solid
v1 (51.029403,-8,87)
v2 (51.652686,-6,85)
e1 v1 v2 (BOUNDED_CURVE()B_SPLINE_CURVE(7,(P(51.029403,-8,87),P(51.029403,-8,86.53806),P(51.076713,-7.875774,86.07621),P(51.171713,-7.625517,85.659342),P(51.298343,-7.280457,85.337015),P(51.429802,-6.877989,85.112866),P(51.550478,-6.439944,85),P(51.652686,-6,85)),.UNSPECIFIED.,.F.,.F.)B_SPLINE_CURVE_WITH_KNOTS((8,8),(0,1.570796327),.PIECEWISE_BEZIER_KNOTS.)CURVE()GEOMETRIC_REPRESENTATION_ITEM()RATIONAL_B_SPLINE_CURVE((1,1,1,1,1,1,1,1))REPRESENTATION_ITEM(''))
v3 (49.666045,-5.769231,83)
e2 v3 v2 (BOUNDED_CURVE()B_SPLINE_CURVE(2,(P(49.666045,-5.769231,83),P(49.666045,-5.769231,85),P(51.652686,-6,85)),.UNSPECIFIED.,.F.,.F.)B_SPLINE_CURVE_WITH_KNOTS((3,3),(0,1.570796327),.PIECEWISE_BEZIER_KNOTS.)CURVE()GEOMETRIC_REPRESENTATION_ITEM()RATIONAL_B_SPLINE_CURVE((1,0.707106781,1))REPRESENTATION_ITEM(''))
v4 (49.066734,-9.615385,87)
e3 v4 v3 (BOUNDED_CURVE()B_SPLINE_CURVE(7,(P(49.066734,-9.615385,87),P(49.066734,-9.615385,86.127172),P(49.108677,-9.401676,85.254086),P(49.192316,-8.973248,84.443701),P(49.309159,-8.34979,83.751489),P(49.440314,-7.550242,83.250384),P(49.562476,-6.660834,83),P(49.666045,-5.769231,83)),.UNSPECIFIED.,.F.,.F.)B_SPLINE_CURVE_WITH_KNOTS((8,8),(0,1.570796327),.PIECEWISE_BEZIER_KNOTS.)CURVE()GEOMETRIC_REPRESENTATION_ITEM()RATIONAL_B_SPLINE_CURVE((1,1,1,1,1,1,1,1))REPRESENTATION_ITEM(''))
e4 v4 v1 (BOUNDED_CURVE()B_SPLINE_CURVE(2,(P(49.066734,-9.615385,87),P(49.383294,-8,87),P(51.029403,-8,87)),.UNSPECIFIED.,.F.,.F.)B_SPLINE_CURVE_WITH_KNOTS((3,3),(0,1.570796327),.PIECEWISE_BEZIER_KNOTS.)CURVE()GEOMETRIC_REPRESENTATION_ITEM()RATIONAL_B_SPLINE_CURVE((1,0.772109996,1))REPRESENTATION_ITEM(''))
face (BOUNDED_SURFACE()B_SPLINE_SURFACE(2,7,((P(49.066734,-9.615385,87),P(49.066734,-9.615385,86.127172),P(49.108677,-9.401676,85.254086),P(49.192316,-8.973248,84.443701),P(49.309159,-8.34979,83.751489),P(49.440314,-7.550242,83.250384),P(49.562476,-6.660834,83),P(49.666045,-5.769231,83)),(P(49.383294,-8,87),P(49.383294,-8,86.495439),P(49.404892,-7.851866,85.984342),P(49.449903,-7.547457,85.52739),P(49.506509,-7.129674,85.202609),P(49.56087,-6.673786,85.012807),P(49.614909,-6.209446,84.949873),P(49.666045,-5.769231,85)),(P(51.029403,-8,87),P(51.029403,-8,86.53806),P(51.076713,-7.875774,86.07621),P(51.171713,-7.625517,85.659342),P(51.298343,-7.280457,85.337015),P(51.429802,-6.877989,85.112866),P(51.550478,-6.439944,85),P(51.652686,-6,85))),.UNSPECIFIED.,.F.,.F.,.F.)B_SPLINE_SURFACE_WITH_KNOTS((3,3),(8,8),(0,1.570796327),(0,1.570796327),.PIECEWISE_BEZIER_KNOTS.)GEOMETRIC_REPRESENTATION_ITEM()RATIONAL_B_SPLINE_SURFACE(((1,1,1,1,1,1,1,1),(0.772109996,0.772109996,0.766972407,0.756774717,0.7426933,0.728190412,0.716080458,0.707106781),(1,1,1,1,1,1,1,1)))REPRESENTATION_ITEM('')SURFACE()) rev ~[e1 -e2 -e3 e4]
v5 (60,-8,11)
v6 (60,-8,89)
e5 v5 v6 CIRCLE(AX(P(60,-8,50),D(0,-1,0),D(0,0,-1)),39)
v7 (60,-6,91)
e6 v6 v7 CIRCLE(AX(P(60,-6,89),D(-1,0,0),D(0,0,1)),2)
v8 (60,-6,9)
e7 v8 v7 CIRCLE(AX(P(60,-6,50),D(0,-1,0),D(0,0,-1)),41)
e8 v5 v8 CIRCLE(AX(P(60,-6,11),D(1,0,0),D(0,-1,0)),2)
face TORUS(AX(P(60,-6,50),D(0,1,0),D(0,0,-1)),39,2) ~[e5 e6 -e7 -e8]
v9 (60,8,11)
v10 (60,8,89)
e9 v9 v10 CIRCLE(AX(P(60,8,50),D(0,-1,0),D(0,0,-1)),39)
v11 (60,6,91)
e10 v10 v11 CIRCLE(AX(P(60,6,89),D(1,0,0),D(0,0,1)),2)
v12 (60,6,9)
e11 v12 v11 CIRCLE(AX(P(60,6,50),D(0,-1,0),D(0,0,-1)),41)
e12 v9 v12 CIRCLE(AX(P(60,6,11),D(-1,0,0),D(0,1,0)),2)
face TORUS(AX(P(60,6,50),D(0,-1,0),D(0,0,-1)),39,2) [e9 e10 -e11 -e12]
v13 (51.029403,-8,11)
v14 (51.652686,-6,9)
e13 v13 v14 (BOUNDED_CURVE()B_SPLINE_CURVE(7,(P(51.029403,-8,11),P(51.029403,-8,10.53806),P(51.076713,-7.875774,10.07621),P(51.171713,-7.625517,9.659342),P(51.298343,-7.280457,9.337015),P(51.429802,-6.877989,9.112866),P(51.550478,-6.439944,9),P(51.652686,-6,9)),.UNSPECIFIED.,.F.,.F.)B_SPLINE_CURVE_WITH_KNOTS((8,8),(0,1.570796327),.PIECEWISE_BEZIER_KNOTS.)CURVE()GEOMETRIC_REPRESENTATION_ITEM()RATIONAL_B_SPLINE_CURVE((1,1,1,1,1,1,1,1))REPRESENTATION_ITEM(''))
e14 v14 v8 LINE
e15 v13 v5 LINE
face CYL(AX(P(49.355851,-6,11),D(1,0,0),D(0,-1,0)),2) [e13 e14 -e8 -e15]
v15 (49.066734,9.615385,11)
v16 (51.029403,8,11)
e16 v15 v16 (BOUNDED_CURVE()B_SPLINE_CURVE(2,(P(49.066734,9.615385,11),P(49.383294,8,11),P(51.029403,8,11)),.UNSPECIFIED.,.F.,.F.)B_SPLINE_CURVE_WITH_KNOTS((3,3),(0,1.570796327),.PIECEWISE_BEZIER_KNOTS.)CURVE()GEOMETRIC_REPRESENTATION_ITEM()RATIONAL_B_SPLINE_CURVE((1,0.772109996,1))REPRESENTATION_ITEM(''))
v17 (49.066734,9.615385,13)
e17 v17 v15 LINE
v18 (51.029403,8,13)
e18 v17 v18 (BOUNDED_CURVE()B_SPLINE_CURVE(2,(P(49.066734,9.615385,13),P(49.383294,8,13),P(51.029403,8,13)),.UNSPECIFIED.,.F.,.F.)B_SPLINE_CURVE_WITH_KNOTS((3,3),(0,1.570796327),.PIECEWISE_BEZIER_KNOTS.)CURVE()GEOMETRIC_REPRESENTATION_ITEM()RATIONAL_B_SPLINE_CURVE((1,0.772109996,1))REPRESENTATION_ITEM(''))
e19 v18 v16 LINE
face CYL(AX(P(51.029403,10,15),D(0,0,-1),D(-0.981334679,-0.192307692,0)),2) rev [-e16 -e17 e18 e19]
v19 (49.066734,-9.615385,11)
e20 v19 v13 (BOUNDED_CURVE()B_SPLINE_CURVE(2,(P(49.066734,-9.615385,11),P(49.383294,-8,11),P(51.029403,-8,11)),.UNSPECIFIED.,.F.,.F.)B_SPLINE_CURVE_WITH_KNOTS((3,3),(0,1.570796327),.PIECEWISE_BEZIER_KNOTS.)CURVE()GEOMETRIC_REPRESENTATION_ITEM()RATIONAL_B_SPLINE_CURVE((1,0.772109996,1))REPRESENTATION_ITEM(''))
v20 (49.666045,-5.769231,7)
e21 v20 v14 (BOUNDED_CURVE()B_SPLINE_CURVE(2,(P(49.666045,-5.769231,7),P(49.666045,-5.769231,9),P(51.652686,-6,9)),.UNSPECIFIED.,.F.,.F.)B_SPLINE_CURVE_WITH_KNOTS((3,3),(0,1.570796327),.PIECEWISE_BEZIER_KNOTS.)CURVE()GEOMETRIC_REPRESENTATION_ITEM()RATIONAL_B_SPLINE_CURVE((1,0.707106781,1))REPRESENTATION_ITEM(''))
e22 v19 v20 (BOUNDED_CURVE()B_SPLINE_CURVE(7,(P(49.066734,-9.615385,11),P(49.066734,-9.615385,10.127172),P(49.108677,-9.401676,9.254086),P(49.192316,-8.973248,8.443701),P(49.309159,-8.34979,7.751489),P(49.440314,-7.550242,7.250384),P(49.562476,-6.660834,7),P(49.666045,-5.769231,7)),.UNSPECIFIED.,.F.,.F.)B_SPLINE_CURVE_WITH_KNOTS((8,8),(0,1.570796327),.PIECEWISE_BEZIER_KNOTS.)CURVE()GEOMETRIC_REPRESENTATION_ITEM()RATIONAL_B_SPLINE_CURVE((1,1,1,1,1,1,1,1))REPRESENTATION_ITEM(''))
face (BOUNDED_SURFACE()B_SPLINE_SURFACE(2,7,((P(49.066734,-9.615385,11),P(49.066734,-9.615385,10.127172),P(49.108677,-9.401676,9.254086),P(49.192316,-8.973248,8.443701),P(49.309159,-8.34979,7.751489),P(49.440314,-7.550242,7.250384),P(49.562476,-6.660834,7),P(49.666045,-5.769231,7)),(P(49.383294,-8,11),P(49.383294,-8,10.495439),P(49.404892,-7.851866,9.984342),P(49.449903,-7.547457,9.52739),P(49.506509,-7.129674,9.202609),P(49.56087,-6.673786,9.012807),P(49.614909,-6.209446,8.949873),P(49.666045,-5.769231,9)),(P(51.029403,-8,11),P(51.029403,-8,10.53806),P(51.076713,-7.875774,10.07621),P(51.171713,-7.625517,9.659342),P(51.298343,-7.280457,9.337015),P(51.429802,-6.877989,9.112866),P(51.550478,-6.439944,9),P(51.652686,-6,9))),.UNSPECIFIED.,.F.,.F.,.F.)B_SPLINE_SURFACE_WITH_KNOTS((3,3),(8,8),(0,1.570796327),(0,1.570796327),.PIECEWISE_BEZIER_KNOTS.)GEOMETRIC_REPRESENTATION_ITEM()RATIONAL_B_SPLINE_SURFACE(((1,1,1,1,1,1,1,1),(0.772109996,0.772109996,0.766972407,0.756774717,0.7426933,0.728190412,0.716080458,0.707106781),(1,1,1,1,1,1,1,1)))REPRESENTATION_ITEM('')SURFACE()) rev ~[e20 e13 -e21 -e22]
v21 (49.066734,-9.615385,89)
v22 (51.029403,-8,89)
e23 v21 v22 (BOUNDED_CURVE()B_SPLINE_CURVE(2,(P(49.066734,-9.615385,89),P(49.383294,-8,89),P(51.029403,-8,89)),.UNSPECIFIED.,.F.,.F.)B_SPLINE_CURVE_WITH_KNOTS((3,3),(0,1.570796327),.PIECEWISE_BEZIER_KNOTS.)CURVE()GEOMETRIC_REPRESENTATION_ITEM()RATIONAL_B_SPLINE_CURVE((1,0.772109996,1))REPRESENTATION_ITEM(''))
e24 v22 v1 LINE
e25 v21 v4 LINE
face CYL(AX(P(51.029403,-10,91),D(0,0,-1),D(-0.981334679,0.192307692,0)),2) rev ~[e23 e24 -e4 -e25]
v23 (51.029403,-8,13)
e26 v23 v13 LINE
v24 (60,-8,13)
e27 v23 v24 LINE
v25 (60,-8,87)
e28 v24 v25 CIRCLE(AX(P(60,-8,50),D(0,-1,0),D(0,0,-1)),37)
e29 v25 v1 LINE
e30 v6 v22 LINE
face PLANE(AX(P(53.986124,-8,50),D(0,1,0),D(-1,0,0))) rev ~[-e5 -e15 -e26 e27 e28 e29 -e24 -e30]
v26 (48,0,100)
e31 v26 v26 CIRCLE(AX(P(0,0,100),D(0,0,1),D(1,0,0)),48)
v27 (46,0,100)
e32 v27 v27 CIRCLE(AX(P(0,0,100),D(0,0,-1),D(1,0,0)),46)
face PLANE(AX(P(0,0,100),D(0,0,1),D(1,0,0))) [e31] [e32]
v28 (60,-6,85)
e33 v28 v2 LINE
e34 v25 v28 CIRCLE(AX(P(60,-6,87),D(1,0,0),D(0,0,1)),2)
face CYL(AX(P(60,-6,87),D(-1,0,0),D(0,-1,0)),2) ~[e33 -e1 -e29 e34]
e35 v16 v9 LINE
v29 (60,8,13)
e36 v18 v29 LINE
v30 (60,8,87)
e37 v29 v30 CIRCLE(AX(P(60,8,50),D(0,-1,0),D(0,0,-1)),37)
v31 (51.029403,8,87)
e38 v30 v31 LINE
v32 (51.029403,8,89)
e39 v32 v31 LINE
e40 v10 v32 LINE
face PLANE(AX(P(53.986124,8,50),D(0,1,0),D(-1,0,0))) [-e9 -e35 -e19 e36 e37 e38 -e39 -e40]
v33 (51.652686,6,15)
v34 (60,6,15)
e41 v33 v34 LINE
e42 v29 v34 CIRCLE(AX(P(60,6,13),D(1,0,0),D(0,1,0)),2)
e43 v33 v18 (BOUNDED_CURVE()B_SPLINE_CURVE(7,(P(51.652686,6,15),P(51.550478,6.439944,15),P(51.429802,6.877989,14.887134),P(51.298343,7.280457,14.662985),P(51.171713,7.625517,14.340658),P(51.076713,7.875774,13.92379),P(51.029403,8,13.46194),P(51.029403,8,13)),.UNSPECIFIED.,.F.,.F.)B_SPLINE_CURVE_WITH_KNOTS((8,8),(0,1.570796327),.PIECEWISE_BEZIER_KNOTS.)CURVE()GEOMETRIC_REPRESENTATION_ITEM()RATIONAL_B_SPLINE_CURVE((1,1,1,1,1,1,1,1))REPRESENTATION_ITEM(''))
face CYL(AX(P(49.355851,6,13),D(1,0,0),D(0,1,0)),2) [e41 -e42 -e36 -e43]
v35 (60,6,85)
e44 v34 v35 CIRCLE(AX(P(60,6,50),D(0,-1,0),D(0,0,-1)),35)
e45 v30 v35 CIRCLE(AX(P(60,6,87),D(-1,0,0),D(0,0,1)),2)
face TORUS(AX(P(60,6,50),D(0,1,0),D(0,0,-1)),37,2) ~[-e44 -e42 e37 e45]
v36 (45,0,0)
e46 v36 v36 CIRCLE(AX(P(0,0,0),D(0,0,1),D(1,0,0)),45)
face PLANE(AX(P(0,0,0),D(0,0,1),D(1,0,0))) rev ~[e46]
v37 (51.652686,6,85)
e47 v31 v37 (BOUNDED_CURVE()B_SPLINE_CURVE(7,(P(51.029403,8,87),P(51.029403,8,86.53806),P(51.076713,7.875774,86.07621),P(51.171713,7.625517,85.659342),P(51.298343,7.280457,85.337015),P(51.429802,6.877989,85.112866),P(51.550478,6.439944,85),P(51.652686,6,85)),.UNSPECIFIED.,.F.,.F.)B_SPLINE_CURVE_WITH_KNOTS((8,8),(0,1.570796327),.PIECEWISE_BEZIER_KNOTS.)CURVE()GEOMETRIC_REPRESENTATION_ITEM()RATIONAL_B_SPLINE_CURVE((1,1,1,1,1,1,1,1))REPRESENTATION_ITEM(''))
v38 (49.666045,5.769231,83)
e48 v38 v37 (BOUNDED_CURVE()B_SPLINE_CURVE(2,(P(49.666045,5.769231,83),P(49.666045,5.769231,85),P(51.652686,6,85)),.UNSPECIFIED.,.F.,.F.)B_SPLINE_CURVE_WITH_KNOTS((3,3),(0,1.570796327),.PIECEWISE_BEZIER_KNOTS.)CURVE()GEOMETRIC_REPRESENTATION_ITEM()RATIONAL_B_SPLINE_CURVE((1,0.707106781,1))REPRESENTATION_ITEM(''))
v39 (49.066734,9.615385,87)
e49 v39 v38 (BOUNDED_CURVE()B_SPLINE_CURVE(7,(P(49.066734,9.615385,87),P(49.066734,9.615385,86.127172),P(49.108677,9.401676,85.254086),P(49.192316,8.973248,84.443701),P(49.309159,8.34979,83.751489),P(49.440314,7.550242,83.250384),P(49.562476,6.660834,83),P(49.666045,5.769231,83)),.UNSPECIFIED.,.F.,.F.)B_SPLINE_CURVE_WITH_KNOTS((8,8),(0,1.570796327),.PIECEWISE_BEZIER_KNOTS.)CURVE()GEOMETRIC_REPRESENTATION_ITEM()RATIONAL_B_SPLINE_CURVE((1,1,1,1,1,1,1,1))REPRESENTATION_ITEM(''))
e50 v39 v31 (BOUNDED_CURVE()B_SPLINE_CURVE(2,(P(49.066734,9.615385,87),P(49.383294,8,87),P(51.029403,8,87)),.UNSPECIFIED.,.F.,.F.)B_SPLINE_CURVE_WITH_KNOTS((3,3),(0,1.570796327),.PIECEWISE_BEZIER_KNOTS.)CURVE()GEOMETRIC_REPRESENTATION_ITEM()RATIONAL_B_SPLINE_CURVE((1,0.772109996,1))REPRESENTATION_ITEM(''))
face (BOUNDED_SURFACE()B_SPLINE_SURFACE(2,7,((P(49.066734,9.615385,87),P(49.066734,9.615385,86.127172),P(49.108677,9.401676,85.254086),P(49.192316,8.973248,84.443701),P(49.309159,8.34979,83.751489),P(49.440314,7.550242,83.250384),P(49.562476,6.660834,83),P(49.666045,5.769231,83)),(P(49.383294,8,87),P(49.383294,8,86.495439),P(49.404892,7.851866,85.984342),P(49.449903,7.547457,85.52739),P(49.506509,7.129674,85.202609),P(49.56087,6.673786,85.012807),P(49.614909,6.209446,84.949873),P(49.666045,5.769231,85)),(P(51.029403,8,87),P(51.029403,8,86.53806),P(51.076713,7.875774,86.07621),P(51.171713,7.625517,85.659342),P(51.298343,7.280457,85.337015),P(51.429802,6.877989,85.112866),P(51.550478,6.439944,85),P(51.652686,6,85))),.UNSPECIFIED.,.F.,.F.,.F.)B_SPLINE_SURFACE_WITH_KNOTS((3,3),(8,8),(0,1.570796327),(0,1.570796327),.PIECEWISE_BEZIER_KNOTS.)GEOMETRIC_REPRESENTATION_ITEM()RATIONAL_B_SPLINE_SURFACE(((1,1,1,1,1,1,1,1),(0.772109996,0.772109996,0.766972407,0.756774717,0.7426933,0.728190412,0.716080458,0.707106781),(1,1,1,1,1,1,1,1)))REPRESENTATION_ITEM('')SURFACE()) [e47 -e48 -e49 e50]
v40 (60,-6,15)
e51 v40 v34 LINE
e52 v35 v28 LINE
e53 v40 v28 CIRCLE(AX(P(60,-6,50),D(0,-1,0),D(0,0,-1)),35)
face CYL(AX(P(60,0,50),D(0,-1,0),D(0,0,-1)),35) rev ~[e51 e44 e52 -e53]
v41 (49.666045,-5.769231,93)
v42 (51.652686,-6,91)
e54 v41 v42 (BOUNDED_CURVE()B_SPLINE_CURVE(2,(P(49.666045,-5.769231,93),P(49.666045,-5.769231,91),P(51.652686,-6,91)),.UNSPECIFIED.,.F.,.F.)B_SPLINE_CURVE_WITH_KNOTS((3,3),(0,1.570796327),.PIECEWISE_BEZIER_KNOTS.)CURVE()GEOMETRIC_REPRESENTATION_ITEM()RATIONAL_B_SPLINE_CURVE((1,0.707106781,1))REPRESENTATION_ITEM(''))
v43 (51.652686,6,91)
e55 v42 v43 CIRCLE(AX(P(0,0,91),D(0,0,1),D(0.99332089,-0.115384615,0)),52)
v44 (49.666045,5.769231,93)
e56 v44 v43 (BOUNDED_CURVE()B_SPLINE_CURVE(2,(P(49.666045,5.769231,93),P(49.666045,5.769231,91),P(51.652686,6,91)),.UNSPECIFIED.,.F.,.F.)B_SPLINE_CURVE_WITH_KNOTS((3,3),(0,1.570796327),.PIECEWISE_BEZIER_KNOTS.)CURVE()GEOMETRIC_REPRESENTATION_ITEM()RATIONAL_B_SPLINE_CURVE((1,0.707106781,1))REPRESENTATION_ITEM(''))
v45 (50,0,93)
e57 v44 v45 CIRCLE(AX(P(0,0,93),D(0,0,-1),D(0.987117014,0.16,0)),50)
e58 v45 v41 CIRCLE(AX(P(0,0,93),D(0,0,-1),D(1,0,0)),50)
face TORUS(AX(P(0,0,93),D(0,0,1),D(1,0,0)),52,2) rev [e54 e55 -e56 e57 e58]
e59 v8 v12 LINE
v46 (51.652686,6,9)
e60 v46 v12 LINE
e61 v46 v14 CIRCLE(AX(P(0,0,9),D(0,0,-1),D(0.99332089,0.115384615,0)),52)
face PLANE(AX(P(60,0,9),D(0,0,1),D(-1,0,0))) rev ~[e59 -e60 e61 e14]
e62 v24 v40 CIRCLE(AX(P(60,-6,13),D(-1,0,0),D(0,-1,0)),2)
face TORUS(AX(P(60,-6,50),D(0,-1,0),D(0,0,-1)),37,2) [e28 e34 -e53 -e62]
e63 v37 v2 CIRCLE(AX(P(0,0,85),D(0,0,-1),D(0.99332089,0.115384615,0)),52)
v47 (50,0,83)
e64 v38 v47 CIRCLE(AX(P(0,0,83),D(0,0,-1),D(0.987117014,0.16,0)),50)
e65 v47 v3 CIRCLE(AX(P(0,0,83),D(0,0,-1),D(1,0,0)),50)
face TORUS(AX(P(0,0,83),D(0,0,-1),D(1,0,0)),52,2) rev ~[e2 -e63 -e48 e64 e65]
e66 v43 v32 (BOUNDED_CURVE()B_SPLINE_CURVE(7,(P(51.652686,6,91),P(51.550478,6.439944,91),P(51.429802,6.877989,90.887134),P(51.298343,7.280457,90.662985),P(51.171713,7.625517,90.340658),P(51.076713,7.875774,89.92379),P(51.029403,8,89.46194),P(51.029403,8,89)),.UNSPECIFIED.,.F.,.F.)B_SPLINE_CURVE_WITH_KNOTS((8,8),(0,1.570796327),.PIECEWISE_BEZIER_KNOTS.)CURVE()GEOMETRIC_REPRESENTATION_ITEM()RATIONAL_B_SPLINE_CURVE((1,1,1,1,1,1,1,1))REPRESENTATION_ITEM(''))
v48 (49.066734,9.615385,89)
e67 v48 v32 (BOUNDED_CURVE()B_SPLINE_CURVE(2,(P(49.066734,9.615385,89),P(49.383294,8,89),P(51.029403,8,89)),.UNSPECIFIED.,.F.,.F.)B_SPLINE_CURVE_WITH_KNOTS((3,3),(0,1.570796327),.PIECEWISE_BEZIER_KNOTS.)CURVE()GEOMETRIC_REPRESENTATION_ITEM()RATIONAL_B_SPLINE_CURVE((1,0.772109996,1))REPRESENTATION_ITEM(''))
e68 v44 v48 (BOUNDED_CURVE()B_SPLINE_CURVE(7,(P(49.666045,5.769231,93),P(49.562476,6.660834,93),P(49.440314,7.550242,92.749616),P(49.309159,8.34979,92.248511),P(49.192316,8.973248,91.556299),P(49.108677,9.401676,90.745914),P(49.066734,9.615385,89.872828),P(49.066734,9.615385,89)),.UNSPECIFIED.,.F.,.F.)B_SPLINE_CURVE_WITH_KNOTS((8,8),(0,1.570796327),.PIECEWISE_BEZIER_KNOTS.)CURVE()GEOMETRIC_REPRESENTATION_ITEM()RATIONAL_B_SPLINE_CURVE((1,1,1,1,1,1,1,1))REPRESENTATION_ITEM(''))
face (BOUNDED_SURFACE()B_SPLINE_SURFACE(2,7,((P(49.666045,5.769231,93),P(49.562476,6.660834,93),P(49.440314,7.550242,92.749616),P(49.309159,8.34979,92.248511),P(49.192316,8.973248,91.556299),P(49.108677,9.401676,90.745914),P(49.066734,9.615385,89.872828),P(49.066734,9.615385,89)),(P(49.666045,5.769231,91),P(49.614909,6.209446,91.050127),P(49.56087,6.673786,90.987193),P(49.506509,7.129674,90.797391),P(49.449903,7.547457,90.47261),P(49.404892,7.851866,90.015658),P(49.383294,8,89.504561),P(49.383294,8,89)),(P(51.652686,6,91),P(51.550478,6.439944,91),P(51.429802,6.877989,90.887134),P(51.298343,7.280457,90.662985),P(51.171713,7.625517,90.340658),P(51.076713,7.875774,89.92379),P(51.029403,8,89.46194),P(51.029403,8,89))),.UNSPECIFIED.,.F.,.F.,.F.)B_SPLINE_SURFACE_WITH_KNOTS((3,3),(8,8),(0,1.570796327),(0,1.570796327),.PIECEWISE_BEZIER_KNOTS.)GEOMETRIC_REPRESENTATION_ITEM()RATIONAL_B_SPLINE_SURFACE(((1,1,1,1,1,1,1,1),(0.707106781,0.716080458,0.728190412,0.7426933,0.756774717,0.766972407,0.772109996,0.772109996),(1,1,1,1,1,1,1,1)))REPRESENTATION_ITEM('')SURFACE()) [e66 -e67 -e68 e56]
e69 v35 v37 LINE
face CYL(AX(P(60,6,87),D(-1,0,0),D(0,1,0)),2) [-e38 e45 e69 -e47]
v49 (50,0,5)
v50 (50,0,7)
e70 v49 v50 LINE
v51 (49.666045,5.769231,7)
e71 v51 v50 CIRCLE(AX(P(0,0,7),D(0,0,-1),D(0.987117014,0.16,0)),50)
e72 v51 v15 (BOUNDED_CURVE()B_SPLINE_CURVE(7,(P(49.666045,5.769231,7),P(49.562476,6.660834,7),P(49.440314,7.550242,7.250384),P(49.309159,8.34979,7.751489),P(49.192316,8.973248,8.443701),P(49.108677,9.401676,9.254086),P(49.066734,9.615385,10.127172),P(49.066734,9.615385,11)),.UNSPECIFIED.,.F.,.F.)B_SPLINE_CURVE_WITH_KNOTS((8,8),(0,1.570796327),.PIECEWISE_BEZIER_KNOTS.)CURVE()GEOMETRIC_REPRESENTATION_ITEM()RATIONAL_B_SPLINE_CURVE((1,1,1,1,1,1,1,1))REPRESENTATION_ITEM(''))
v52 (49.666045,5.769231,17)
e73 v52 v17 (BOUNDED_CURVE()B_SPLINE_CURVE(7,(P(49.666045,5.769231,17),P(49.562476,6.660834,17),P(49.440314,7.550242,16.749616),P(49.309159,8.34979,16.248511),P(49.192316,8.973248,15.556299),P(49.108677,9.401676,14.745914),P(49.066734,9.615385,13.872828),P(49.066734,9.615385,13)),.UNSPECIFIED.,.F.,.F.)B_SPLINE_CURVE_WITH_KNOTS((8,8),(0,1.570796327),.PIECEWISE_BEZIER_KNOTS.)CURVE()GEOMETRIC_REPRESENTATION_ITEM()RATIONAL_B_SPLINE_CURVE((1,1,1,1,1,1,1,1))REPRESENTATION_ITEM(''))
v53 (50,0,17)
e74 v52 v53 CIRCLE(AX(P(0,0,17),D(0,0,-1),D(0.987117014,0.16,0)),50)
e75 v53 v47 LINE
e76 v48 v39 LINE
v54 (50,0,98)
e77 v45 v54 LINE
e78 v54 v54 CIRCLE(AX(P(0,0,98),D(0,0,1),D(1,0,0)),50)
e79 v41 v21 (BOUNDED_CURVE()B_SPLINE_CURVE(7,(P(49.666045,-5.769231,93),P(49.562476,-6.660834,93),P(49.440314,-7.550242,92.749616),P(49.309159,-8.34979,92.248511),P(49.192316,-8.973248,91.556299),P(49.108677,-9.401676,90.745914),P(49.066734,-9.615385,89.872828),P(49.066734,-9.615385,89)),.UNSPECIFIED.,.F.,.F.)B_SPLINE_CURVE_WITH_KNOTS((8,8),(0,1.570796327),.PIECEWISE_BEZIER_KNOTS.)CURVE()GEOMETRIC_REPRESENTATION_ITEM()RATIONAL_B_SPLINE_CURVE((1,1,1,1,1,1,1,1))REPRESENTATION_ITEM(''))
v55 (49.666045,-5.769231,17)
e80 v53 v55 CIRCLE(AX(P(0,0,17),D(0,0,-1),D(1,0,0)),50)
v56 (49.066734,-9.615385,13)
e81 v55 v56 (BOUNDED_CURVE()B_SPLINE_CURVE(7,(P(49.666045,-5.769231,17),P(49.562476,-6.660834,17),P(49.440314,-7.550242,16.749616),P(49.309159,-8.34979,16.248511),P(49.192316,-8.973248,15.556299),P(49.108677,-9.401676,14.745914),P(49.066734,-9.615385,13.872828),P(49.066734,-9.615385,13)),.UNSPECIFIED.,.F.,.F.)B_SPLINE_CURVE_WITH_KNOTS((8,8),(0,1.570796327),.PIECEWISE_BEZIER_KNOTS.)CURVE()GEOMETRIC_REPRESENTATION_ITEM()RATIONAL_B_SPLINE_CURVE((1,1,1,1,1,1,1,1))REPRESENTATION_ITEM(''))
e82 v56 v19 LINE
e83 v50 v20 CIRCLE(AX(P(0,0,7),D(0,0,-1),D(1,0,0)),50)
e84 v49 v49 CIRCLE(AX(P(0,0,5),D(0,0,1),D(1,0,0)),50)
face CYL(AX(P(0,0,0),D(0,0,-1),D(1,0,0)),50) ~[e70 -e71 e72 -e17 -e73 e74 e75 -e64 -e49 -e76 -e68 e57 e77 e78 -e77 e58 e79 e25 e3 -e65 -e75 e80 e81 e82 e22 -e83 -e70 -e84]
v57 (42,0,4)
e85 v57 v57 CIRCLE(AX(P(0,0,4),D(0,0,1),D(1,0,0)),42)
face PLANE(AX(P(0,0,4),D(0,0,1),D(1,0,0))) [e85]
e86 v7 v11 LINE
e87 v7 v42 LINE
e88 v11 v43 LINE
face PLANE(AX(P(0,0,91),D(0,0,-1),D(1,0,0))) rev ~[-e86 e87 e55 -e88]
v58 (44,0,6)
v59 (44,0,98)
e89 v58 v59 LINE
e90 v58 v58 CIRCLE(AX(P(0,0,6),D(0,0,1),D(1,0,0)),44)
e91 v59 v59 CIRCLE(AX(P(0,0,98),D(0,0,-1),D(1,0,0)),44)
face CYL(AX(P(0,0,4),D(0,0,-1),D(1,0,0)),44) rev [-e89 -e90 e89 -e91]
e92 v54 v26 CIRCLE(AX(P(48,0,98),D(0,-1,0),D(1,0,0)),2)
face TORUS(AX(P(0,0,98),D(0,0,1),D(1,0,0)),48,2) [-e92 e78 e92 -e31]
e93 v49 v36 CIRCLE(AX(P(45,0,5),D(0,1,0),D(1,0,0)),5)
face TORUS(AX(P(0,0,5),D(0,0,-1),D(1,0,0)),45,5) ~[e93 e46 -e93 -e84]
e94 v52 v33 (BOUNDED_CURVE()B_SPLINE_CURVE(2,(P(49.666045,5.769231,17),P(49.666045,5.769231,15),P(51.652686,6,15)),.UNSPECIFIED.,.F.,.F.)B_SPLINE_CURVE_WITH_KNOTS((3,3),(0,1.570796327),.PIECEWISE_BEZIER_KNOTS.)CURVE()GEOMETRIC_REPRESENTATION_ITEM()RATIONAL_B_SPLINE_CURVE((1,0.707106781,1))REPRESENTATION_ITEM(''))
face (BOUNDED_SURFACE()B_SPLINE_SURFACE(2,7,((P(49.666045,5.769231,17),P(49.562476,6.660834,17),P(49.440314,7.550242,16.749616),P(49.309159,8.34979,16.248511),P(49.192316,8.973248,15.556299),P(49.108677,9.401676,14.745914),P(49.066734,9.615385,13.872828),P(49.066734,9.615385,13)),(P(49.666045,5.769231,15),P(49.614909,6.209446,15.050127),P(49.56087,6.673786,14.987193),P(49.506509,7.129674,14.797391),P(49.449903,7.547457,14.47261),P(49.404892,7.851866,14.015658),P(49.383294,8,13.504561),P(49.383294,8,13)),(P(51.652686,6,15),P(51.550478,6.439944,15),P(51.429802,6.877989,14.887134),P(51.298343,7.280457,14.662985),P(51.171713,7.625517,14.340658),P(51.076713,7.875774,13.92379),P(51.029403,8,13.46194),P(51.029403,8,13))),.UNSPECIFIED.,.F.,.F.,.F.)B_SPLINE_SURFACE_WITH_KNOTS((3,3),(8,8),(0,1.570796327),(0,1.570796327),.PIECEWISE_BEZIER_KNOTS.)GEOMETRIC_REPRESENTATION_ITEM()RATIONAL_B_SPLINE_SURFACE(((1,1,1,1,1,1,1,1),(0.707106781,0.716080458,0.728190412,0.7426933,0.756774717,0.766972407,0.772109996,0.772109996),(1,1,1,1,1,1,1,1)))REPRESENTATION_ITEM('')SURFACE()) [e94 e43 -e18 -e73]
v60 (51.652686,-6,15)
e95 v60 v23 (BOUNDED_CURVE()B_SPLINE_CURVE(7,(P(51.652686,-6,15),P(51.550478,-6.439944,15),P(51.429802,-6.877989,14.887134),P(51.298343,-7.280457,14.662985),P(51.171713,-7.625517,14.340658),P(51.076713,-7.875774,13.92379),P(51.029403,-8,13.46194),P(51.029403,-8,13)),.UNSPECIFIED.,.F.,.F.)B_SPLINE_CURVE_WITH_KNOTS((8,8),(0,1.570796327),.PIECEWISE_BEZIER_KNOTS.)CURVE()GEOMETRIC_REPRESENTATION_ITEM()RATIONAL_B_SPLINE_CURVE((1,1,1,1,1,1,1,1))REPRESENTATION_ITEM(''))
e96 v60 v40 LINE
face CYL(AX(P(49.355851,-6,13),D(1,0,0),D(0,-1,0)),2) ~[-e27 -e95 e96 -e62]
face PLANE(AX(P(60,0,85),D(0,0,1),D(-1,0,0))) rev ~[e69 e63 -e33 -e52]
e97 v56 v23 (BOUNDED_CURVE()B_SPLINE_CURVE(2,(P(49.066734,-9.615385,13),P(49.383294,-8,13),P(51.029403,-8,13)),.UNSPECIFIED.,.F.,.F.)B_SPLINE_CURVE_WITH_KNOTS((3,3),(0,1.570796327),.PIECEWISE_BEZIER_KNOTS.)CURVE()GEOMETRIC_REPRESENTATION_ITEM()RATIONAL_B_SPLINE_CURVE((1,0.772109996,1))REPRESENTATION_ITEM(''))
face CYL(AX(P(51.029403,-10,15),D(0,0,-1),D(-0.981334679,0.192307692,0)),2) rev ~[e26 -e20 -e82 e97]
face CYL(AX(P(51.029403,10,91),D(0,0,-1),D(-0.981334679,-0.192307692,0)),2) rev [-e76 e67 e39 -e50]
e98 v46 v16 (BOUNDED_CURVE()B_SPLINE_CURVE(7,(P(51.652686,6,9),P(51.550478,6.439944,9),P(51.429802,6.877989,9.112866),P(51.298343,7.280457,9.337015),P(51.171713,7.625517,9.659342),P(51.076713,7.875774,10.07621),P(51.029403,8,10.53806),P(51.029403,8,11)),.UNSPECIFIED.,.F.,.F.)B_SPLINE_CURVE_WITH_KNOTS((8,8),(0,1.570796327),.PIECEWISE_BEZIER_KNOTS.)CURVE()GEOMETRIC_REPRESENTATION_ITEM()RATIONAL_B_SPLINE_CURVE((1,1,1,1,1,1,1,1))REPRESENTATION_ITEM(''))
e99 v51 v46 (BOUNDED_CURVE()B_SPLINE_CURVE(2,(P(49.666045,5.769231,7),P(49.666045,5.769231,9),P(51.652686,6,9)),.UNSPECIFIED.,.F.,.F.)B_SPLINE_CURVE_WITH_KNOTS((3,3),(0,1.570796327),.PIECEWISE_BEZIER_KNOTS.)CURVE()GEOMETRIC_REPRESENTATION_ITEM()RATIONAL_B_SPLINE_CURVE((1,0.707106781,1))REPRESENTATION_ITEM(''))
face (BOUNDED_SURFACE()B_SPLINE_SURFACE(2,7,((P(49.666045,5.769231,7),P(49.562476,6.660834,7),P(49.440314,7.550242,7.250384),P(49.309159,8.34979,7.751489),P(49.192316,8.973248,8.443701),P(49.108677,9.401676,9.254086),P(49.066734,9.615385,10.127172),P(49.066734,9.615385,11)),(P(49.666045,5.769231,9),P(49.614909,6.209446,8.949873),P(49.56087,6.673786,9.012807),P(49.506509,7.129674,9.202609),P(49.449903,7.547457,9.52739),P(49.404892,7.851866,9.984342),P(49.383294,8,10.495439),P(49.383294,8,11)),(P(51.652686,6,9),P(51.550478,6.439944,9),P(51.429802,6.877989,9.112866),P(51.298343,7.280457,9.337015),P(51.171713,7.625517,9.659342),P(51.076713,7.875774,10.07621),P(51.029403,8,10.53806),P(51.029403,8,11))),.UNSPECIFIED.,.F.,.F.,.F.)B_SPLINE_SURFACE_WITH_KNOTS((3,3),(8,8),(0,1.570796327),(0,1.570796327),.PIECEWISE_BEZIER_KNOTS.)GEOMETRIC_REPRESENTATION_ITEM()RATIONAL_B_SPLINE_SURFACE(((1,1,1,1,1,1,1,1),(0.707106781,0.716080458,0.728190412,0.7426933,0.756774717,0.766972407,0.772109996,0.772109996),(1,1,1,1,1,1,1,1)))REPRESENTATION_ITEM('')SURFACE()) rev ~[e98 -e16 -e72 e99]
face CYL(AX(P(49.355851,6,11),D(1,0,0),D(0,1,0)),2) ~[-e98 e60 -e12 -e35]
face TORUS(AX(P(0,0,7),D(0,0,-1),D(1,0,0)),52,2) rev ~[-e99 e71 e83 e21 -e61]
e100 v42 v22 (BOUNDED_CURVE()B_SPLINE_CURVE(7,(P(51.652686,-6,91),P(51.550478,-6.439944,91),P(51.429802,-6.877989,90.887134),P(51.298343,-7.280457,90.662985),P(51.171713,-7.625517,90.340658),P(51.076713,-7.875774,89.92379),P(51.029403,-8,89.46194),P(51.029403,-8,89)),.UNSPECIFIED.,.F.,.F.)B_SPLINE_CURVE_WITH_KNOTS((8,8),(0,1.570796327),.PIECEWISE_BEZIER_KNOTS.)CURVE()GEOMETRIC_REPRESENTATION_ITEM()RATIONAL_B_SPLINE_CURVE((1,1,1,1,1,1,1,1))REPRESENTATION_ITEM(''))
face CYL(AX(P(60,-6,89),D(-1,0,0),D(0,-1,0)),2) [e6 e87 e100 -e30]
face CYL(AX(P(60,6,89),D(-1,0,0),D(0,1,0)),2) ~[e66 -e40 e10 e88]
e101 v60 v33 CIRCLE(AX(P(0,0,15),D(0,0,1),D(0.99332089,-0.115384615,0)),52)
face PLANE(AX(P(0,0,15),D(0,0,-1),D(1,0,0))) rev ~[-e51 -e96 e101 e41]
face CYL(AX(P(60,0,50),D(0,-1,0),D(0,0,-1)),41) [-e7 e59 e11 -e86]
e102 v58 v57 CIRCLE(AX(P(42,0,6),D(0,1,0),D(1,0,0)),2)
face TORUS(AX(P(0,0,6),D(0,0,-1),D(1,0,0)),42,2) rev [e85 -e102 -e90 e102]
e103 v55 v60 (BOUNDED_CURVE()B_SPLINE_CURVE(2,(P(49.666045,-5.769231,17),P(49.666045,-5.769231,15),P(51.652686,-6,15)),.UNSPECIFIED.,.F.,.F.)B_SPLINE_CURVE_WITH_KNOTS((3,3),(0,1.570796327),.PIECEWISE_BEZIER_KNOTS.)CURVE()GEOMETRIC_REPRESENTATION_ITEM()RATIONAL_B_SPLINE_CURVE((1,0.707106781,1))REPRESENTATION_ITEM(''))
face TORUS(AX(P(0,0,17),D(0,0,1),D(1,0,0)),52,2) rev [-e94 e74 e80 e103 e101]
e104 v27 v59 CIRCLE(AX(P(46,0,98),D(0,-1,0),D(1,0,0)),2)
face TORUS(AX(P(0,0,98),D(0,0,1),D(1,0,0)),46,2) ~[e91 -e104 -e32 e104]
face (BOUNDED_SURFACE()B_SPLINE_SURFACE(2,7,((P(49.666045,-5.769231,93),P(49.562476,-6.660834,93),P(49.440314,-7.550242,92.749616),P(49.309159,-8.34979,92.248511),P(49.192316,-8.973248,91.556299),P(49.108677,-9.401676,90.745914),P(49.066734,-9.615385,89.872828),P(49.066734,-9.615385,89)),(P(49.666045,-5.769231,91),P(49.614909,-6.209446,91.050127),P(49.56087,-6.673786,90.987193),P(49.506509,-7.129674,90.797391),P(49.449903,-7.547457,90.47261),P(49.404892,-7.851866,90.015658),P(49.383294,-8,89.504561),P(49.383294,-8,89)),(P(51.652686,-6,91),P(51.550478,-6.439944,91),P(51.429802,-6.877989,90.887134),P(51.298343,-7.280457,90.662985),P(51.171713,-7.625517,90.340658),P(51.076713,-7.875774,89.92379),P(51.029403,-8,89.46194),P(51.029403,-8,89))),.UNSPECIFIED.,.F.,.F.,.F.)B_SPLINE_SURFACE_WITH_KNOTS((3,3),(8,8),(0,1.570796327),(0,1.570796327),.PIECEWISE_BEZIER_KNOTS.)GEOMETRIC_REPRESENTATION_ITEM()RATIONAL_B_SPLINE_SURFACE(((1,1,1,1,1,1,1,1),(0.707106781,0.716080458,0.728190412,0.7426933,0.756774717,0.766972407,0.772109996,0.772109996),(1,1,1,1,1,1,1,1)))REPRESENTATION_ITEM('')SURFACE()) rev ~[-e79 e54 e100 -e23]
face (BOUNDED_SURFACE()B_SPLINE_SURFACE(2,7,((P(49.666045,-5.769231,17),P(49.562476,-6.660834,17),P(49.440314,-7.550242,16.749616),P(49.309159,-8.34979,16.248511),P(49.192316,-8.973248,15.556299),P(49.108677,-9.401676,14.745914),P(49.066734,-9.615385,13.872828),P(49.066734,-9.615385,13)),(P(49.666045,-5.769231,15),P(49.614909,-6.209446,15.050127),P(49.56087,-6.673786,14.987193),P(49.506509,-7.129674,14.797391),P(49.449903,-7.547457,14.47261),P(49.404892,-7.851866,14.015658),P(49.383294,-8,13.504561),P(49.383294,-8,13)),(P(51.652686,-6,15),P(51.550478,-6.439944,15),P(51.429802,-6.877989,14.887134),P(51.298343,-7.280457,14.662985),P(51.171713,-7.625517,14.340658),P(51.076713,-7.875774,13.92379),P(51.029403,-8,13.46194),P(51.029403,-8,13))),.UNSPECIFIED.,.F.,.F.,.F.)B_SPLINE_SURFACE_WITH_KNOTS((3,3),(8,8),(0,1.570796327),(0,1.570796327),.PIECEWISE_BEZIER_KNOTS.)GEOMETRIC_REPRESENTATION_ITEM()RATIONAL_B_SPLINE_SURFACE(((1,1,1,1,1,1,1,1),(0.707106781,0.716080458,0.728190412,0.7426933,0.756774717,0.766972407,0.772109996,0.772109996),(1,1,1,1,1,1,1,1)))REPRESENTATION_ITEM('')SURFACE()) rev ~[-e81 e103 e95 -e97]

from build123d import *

# Parameters (mm, degrees)
SKETCH_R     = 50
PAD_DEPTH    = 100
PAD001_DEPTH = 8
SKETCH002_R  = 44
POCKET_DEPTH = 96.001
FILLET_R     = 5
FILLET001_R  = 2
FILLET002_R  = 2


with BuildPart() as part:
    # Sketch → Pad (new body)
    with BuildSketch(Plane.XY):
        Circle(SKETCH_R)
    extrude(amount=PAD_DEPTH)

    # Sketch001 → Pad001 (join, symmetric)
    with BuildSketch(Plane.XZ):
        with BuildLine():
            Line((0, 91), (60, 91))
            ThreePointArc((60, 9), (101, 50), (60, 91))
            Line((60, 9), (0, 9))
            Line((0, 9), (0, 15))
            Line((0, 15), (60, 15))
            ThreePointArc((60, 15), (95, 50), (60, 85))
            Line((60, 85), (0, 85))
            Line((0, 85), (0, 91))
        make_face()
    extrude(amount=PAD001_DEPTH, both=True)

    # Sketch002 (on DatumPlane) → Pocket (cut, through all)
    with BuildSketch(Plane.XY.offset(4)):
        Circle(SKETCH002_R)
    extrude(amount=POCKET_DEPTH, mode=Mode.SUBTRACT)

    # Fillet
    fillet_edges = [part.edges().sort_by_distance(p)[0] for p in [
        (-50, 0, 0),
    ]]
    fillet(fillet_edges, radius=FILLET_R)

    # Fillet001
    fillet001_edges = [part.edges().sort_by_distance(p)[0] for p in [
        (-44, 0, 4),
        (-50, 0, 100),
        (-44, 0, 100),
    ]]
    fillet(fillet001_edges, radius=FILLET001_R)

    # Fillet002
    fillet002_edges = [part.edges().sort_by_distance(p)[0] for p in [
        (49.838703, -4.012946, 91),
        (49.355851, 8, 88),
        (49.355851, -8, 88),
        (49.838703, -4.012946, 85),
        (95, -8, 50),
        (95, 8, 50),
        (101, 8, 50),
        (101, -8, 50),
        (49.838703, -4.012946, 15),
        (49.355851, -8, 12),
        (49.838703, -4.012946, 9),
        (49.355851, 8, 12),
    ]]
    fillet(fillet002_edges, radius=FILLET002_R)


solid = part.part
